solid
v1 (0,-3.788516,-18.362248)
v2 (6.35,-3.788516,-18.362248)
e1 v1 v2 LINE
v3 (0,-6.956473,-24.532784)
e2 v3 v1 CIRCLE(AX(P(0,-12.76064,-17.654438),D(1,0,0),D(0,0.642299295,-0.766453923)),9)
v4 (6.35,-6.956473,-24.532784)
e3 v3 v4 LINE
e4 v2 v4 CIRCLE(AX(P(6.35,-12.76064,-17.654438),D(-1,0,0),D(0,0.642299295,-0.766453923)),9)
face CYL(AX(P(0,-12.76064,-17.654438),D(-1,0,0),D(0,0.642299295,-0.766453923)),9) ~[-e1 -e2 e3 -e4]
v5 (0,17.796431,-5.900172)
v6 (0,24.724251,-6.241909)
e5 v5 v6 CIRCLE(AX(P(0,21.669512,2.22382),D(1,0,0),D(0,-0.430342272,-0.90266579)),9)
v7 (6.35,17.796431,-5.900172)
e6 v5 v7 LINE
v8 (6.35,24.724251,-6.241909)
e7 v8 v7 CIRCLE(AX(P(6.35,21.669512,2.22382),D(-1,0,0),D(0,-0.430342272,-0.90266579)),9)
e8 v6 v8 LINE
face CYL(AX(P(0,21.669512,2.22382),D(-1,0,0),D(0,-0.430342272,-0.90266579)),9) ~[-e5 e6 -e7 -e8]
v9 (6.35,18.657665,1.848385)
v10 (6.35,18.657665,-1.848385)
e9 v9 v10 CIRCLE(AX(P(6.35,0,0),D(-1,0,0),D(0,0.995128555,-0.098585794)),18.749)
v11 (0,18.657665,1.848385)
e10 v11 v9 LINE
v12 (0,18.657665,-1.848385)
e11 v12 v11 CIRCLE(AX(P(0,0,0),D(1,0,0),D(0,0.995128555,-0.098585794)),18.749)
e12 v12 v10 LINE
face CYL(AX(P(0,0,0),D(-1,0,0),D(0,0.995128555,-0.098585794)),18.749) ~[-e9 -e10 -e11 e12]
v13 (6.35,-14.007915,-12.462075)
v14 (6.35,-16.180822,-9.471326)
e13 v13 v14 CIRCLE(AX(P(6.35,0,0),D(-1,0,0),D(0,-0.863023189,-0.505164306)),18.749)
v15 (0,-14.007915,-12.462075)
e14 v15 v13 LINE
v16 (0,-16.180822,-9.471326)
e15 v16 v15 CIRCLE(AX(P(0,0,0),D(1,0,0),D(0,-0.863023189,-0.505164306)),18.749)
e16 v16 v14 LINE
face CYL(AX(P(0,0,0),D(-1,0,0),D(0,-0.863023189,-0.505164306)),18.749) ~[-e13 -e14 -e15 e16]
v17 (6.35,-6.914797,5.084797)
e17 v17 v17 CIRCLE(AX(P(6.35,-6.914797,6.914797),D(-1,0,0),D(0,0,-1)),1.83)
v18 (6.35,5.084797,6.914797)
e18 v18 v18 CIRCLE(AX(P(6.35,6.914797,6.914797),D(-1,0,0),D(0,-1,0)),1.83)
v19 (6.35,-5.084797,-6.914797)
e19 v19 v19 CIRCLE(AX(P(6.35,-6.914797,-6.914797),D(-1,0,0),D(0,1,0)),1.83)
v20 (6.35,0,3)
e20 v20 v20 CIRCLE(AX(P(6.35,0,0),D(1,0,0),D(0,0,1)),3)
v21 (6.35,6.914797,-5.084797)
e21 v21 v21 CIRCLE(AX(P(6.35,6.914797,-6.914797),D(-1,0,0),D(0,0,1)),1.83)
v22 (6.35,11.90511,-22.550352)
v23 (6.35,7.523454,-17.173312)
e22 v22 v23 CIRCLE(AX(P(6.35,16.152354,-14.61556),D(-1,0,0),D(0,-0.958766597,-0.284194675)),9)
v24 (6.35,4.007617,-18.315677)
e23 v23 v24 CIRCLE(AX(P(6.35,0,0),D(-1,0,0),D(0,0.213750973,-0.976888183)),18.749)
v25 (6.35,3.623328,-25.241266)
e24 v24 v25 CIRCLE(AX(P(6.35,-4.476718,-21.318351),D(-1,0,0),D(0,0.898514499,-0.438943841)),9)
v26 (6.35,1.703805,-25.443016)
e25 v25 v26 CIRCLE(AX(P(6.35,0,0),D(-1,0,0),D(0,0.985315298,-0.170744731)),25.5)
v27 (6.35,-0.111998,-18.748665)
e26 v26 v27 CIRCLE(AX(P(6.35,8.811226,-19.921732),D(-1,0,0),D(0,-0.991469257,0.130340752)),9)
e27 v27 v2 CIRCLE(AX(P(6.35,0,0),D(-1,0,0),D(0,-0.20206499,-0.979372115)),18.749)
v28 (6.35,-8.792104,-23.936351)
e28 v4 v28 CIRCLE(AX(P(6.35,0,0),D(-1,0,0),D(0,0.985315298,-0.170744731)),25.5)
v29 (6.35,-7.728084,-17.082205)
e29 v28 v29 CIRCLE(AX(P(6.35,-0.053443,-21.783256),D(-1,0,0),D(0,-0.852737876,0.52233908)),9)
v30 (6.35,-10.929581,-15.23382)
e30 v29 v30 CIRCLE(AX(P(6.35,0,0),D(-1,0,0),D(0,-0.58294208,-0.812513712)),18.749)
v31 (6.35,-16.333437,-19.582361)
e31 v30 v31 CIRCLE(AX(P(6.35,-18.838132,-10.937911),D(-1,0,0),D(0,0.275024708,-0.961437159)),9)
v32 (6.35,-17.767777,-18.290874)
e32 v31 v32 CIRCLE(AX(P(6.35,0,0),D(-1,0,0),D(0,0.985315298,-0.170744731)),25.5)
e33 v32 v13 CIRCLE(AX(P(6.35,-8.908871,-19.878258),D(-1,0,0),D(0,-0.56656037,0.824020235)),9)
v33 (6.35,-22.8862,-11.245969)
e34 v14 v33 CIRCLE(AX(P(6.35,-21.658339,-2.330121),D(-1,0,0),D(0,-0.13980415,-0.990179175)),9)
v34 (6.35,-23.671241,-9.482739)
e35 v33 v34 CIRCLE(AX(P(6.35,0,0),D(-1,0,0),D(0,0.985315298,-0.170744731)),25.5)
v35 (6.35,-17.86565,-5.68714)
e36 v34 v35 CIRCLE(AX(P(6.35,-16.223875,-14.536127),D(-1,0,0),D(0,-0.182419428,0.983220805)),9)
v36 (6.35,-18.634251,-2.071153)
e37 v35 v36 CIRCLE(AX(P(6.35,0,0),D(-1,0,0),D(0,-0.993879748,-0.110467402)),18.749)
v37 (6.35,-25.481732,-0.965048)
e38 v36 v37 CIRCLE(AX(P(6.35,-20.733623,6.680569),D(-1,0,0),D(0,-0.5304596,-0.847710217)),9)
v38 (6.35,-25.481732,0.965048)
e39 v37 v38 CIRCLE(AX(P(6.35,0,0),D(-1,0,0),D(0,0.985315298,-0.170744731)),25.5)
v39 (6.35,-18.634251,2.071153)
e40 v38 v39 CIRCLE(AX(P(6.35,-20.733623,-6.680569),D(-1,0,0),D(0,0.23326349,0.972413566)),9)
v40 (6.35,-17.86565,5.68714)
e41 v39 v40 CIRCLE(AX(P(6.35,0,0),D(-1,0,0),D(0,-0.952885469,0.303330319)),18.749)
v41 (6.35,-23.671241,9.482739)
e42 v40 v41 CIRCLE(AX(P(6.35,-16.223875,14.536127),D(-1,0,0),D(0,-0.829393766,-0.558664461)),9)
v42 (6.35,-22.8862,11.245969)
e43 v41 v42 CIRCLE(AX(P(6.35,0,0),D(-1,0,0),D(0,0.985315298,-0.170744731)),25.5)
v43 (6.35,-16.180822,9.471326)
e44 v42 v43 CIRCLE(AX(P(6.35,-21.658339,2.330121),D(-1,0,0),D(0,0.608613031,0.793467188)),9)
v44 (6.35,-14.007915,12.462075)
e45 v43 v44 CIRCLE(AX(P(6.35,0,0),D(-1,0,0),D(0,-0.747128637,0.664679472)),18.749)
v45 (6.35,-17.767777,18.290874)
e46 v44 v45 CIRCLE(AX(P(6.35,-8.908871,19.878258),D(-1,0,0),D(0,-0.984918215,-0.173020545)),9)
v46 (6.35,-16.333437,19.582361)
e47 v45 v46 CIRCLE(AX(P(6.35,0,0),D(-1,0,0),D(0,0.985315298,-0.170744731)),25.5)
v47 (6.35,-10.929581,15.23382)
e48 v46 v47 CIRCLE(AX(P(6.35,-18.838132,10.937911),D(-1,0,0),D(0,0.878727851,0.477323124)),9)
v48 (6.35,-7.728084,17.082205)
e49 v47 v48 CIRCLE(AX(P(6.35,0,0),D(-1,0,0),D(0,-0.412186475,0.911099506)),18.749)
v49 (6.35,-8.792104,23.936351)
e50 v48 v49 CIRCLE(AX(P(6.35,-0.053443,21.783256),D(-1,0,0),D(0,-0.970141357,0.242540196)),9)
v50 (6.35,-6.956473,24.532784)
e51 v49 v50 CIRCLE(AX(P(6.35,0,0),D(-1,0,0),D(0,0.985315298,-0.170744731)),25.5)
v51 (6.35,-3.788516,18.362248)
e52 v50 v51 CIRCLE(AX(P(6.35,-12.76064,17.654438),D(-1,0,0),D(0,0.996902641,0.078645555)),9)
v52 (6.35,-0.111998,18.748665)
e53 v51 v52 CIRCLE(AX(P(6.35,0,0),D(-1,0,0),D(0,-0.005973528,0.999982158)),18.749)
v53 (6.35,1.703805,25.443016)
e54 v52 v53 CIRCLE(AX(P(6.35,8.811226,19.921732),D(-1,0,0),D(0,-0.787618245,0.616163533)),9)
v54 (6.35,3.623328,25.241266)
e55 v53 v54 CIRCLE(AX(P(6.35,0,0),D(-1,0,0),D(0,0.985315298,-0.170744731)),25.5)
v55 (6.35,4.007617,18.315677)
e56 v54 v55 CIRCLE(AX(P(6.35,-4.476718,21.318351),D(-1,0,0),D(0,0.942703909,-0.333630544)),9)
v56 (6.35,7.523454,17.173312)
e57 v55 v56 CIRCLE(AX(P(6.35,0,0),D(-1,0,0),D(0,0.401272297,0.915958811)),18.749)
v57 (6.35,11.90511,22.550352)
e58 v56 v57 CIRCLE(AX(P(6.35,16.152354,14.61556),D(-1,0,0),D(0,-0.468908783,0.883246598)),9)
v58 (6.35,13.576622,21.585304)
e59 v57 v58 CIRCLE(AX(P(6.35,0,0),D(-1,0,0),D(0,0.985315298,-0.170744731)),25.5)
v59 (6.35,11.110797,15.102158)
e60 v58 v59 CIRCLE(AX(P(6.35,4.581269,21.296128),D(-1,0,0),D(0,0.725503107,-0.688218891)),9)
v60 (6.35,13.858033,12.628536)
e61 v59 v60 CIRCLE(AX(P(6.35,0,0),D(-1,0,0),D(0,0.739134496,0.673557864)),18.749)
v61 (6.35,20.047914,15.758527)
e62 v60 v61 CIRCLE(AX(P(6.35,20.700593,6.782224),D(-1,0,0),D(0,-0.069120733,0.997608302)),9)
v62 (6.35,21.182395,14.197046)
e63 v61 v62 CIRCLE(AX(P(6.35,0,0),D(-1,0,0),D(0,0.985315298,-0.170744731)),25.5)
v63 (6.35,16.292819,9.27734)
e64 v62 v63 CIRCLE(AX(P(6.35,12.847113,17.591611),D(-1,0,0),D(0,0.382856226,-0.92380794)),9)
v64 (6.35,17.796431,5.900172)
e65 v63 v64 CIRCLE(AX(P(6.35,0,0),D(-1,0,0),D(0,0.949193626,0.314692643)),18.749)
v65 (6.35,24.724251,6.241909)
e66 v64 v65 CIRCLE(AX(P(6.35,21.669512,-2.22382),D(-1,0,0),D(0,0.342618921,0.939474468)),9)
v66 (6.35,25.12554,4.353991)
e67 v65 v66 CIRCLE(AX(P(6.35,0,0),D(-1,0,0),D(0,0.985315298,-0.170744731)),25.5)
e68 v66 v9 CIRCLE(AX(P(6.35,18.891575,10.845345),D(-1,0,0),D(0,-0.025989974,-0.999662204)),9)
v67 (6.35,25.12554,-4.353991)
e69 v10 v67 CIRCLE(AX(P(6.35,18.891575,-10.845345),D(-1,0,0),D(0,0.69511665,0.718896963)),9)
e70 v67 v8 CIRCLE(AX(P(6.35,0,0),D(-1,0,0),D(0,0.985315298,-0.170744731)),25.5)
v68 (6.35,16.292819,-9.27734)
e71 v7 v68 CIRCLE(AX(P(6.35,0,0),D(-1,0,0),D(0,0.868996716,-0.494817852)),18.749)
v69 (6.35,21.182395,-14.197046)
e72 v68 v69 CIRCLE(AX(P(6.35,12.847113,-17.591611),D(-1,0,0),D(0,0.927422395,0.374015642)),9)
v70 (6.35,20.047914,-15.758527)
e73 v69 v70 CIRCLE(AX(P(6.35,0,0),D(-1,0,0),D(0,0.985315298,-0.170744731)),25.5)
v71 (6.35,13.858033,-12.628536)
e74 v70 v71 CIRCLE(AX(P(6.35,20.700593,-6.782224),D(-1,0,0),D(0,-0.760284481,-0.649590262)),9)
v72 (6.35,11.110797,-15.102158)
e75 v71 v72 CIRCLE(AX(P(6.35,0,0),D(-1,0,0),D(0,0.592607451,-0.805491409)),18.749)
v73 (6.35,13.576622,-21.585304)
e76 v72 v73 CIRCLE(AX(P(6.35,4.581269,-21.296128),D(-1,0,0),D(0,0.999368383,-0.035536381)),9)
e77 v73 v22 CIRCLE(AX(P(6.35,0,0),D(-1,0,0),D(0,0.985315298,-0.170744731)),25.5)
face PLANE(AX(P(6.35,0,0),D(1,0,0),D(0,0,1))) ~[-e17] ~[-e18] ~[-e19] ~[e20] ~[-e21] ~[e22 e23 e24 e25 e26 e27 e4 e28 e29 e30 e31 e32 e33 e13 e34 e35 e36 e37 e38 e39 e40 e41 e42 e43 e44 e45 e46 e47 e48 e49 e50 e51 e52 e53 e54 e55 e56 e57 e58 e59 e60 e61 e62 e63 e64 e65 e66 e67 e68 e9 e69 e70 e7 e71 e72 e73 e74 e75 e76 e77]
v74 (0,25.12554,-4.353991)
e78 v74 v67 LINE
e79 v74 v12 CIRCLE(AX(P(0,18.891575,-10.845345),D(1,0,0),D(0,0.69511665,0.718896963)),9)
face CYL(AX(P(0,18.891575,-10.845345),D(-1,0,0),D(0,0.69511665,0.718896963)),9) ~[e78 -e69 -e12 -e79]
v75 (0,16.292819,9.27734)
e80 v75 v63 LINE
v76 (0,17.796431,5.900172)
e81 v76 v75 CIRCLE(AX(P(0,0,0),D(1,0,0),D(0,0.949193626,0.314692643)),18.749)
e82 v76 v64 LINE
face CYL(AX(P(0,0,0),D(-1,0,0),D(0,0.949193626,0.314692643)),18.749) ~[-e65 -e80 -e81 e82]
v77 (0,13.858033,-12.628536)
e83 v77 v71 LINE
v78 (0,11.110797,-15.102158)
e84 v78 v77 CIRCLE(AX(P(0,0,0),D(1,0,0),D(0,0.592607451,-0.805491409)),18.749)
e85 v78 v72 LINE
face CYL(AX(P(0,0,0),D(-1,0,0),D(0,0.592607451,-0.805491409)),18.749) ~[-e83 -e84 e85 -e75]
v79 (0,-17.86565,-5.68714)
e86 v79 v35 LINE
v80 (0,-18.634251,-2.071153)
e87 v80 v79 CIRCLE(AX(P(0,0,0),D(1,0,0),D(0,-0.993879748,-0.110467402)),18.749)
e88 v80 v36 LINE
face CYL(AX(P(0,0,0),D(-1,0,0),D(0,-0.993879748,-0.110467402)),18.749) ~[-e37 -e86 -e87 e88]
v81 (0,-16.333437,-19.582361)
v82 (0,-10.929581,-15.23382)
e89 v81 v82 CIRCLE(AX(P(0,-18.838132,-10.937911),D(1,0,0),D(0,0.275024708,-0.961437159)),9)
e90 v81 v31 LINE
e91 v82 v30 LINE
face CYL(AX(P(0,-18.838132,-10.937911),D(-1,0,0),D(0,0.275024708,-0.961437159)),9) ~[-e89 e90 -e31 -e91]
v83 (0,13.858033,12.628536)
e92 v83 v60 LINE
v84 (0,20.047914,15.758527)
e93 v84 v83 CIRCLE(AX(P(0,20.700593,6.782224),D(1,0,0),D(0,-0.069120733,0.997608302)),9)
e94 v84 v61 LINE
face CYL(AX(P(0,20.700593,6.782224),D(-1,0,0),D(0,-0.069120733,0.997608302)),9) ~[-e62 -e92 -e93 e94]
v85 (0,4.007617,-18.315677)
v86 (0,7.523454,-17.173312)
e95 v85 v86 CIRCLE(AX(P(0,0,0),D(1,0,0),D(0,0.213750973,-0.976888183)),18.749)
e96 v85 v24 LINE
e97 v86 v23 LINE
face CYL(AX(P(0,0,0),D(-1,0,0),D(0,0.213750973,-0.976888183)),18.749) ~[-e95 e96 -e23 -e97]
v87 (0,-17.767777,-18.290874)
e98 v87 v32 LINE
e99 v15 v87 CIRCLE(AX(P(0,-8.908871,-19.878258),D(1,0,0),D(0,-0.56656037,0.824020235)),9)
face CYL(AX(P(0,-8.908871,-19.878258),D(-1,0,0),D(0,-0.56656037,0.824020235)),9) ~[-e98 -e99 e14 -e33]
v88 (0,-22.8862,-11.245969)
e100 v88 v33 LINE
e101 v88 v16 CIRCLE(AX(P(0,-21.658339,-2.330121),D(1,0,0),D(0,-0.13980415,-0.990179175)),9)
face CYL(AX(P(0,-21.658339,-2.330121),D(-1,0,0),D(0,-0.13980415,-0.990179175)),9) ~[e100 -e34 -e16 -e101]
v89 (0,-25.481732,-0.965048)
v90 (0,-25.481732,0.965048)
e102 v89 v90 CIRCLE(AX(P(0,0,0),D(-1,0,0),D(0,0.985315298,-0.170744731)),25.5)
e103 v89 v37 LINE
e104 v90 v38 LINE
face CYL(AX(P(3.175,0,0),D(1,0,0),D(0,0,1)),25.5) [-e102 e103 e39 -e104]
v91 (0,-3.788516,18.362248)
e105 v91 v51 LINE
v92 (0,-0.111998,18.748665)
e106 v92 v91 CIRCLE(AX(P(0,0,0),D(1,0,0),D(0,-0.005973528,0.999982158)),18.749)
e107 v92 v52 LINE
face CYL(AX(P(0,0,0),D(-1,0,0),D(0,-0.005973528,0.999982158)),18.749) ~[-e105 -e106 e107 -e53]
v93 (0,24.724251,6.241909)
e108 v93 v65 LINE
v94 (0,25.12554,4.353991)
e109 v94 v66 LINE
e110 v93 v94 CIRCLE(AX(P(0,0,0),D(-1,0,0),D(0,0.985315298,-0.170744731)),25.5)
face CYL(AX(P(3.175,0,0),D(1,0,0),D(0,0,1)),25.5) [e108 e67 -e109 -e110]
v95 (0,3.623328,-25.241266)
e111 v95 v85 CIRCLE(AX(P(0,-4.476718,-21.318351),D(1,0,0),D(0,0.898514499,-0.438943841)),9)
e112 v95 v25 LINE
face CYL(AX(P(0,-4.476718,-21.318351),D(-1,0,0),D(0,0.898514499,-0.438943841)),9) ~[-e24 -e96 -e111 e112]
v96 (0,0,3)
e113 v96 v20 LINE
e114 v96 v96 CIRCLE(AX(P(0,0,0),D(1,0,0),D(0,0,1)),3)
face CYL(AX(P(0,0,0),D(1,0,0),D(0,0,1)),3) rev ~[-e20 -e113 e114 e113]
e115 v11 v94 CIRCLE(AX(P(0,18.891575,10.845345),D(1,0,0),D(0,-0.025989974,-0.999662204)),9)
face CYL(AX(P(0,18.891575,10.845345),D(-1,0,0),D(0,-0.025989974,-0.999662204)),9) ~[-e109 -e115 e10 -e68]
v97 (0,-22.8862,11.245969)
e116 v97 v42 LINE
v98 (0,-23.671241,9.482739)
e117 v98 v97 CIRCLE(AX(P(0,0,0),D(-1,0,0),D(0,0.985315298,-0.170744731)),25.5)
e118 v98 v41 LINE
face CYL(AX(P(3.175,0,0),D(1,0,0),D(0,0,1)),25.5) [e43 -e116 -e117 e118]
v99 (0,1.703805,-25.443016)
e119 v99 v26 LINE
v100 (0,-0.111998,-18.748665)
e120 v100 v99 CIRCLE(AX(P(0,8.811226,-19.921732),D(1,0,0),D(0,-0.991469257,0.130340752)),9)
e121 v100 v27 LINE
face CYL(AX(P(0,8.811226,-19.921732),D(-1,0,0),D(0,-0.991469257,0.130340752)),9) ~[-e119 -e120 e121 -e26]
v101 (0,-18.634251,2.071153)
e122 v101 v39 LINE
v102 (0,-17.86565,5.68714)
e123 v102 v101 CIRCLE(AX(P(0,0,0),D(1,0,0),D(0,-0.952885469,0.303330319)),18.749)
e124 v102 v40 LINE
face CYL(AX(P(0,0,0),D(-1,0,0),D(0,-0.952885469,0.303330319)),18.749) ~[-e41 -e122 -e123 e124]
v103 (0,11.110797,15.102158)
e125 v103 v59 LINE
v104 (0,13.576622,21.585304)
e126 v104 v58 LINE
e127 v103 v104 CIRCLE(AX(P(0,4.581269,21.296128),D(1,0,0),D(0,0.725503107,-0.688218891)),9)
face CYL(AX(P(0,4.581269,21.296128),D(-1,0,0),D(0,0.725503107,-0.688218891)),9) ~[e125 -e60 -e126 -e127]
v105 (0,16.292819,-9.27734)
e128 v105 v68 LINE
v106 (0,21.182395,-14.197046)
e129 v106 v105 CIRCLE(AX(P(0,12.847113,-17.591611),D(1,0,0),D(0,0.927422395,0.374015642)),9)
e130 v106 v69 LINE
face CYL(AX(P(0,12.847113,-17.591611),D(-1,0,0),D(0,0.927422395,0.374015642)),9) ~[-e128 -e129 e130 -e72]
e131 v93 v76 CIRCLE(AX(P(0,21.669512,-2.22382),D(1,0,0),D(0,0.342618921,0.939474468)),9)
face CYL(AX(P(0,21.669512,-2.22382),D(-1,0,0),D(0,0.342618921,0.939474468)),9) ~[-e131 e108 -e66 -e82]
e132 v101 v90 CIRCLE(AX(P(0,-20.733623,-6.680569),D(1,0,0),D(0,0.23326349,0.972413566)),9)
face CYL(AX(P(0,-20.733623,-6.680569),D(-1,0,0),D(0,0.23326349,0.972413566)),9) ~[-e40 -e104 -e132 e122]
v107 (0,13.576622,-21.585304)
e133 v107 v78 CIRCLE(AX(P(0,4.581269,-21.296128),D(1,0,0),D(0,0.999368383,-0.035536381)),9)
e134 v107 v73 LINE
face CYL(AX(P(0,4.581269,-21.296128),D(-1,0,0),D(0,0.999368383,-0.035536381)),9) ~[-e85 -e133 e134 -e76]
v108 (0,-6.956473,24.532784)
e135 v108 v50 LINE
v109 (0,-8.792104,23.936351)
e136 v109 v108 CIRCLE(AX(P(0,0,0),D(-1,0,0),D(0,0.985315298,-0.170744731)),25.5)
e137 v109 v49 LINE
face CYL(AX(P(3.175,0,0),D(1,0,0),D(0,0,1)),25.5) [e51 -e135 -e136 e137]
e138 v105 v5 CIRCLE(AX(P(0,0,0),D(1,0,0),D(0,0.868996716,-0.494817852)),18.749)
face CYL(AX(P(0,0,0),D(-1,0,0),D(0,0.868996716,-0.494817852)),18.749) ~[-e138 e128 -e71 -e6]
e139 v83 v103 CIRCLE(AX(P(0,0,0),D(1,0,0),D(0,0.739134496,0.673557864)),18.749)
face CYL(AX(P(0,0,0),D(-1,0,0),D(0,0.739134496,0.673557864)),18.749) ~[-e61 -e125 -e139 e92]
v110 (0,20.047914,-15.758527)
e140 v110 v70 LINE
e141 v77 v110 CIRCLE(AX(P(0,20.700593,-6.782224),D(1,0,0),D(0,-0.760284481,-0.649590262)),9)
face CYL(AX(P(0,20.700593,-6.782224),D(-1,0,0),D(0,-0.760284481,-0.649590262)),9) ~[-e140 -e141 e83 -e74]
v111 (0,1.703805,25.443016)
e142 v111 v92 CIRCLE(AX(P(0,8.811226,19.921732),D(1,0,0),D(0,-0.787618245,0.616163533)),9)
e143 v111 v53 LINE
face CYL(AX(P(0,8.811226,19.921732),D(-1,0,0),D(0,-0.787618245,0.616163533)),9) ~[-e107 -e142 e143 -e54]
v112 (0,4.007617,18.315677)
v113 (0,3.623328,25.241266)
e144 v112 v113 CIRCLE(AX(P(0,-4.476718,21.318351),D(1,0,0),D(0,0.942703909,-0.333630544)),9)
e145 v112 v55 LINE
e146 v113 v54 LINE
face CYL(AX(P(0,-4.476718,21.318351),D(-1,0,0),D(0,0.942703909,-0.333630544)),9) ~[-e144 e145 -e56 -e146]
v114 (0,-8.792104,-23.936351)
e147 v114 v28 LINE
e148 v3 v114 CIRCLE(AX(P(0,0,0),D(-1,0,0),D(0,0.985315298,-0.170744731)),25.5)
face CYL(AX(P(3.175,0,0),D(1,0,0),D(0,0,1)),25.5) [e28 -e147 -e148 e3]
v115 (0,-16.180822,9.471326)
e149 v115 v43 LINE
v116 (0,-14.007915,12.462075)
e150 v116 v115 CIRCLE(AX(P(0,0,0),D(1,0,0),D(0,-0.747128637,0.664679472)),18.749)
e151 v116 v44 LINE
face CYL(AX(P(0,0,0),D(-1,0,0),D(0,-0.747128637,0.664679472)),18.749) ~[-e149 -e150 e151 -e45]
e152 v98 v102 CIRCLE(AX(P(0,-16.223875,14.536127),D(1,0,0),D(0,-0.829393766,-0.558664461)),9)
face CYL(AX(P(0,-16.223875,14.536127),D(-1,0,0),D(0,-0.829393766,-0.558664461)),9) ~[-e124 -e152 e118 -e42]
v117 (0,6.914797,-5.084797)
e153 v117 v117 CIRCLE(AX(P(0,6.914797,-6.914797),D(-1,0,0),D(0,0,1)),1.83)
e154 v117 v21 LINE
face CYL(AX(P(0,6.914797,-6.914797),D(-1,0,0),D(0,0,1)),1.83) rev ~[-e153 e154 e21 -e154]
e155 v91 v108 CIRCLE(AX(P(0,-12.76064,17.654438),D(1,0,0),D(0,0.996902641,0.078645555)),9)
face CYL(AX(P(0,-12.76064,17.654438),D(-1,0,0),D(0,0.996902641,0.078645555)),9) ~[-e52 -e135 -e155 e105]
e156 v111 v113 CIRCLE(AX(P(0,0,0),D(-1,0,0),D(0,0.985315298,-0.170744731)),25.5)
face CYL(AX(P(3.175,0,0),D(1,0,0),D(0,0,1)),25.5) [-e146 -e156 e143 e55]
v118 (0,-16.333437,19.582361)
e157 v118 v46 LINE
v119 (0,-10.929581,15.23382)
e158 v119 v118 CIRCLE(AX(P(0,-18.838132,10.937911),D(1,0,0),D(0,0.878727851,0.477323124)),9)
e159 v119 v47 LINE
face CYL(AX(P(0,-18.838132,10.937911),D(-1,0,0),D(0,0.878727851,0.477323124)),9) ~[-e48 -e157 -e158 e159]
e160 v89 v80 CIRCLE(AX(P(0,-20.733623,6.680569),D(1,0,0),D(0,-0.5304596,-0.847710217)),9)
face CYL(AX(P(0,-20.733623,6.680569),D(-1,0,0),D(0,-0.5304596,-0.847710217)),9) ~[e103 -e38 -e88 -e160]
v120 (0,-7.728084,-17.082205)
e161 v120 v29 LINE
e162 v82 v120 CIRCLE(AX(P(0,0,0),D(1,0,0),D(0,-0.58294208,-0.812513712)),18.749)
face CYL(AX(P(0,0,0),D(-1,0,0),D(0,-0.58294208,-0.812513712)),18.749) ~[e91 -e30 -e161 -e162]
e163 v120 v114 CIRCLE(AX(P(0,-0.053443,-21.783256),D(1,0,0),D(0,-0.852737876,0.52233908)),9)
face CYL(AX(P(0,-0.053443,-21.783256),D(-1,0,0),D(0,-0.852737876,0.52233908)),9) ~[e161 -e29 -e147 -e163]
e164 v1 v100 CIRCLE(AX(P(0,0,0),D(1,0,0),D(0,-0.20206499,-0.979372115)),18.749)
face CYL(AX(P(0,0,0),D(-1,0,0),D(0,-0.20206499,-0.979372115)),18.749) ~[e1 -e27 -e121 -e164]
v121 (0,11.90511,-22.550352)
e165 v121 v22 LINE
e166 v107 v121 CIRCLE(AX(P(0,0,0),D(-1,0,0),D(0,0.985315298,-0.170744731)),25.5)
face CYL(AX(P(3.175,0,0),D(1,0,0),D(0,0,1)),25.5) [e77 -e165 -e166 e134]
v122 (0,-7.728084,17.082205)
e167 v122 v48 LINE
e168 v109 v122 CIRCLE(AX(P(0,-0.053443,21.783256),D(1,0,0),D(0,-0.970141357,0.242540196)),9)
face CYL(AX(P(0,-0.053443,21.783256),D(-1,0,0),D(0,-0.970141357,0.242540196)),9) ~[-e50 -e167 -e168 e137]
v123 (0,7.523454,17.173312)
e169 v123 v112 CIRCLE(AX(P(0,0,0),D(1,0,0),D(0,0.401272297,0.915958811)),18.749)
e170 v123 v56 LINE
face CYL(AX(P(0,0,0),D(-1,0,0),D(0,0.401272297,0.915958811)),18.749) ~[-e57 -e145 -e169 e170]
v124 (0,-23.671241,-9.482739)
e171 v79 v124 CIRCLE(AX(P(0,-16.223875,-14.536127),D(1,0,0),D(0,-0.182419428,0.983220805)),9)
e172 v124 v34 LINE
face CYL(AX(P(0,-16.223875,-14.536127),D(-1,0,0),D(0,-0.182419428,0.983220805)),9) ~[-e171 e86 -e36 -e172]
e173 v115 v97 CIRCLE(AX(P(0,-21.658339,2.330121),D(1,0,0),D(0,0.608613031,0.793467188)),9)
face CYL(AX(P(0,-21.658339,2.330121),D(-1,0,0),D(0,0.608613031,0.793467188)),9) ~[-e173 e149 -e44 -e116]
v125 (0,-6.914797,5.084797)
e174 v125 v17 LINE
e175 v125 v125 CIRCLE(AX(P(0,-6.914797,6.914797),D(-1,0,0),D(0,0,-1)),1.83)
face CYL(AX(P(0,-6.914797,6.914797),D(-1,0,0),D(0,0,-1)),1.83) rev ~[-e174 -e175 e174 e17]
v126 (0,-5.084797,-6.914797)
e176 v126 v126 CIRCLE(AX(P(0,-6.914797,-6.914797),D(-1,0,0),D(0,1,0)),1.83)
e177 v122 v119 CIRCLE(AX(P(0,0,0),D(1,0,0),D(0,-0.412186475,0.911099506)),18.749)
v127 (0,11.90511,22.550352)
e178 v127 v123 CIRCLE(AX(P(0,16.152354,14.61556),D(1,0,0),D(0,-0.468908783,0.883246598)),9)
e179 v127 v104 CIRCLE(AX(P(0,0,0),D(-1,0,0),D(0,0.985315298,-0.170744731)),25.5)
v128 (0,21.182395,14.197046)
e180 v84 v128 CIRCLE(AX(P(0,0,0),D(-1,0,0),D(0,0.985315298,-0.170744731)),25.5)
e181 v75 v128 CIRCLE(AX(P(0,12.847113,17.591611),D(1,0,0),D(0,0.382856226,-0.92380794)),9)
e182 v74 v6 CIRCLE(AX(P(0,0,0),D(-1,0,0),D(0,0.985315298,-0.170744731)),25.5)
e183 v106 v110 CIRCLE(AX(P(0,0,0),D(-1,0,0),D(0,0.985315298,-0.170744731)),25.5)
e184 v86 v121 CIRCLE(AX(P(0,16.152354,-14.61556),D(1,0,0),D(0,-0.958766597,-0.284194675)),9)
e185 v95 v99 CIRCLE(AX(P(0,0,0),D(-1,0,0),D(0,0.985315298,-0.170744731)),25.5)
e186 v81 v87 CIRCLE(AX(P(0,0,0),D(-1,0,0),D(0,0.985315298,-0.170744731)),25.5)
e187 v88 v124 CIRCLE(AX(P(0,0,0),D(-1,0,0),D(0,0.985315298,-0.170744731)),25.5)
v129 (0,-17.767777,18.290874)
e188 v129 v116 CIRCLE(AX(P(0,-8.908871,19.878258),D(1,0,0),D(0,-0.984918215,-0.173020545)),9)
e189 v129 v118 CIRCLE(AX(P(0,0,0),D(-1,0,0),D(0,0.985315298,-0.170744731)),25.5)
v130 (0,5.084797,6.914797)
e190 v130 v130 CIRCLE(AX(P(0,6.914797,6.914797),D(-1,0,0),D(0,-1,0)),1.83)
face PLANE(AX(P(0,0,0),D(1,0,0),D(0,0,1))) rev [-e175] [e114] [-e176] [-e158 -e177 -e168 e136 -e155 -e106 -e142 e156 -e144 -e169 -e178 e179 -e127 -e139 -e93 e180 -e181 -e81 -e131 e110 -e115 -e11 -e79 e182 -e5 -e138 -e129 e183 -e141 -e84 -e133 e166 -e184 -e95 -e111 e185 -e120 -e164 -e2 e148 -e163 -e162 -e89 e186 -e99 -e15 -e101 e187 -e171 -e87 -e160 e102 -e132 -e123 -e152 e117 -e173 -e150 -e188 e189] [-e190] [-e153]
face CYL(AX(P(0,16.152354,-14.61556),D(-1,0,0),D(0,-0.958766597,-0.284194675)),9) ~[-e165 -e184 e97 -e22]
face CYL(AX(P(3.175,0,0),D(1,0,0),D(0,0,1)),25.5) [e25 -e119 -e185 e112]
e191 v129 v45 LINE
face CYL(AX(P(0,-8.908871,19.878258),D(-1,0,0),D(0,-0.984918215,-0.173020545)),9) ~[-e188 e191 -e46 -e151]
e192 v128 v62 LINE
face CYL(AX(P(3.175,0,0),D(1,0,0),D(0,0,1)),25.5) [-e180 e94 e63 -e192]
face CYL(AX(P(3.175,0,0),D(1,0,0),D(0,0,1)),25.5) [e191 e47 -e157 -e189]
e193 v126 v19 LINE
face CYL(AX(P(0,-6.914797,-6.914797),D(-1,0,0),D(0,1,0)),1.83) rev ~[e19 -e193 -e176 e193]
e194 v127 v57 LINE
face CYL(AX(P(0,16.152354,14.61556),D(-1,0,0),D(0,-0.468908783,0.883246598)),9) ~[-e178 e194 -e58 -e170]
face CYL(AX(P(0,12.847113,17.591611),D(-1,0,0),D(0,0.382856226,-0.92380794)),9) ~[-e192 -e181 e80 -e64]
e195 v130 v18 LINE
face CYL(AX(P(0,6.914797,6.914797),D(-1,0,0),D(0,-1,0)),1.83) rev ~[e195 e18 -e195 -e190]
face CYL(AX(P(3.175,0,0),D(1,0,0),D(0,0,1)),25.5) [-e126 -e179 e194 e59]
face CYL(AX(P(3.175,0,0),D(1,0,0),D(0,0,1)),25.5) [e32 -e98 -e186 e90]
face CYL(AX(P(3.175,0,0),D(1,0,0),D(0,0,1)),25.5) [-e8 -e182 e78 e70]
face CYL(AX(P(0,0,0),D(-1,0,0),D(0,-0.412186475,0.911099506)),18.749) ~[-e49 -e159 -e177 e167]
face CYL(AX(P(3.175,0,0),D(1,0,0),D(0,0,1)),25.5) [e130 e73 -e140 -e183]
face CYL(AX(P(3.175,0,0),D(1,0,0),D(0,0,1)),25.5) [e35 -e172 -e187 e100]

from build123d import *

# Parameters (mm, degrees)
BASPROSKE_W                  = 6.35
BASPROSKE_H                  = 25.5
TOOTHCUT_DEPTH               = 37.617243206
TEETHCUTS_COUNT              = 15
TEETHCUTS_ANGLE              = 336
BORSKE_R                     = 3
BORE_DEPTH                   = 50.0000508
ENL_V_MAT_EXTRU_1_REACH      = 38.578
ESQUISSE1_R                  = 1.83
R_P_TITION_CIRCULAIRE1_COUNT = 4


with BuildPart() as part:
    # BasProSke → Base-Revolve (revolve)
    with BuildSketch(Plane(origin=(0, 0, 0), x_dir=(1, 0, 0), z_dir=(0, 1, 0)), mode=Mode.PRIVATE) as base_revolve_sk:
        with Locations((3.175, 12.75)):
            Rectangle(BASPROSKE_W, BASPROSKE_H)
    revolve(base_revolve_sk.sketch.rotate(Axis((-10, 0, 0), (1, 0, 0)), 180), axis=Axis((-10, 0, 0), (1, 0, 0)))

    # TooCutSke → ToothCut (cut, through all)
    with BuildSketch(Plane(origin=(0, 0, 0), x_dir=(0, 0, -1), z_dir=(1, 0, 0))):
        with BuildLine():
            ThreePointArc((1.848385047, 18.65766528), (0, 18.749), (-1.848385047, 18.65766528))
            ThreePointArc((-1.848385047, 18.65766528), (-2.458619206, 22.156974334), (-4.375272216, 25.147624902))
            ThreePointArc((-4.375272216, 25.147624902), (0, 25.5254), (4.375272216, 25.147624902))
            ThreePointArc((4.375272216, 25.147624902), (2.458619206, 22.156974334), (1.848385047, 18.65766528))
        make_face()
    toothcut = extrude(amount=TOOTHCUT_DEPTH, mode=Mode.SUBTRACT)

    # TeethCuts: ToothCut ×15 about axis
    teethcuts_axis = Axis((-10, 0, 0), (1, 0, 0))
    for i in range(1, TEETHCUTS_COUNT):
        add(toothcut.rotate(teethcuts_axis, i * TEETHCUTS_ANGLE / (TEETHCUTS_COUNT - 1)), mode=Mode.SUBTRACT)

    # BorSke → Bore (cut, symmetric)
    with BuildSketch(Plane(origin=(0, 0, 0), x_dir=(0, 0, -1), z_dir=(1, 0, 0))):
        with Locations(Location((0, 0, 0), (0, 0, 180))):
            Circle(BORSKE_R)
    extrude(amount=BORE_DEPTH, both=True, mode=Mode.SUBTRACT)

    # Esquisse1 → Enlèv. mat.-Extru.1 (cut, up to next)
    with BuildSketch(Plane.ZY, mode=Mode.PRIVATE) as enl_v_mat_extru_1_sk1:
        with Locations((-6.914797213, 6.914797213)):
            Circle(ESQUISSE1_R)
    enl_v_mat_extru_1_tool1 = extrude(enl_v_mat_extru_1_sk1.sketch, amount=-ENL_V_MAT_EXTRU_1_REACH, mode=Mode.PRIVATE) & part.part
    enl_v_mat_extru_1 = enl_v_mat_extru_1_tool1.solids().sort_by_distance((0, 6.914797, -6.914797))[0]
    add(enl_v_mat_extru_1, mode=Mode.SUBTRACT)

    # Répétition circulaire1: Enlèv. mat.-Extru.1 ×4 about axis
    r_p_tition_circulaire1_axis = Axis((0, 0, 0), (1, 0, 0))
    for i in range(1, R_P_TITION_CIRCULAIRE1_COUNT):
        add(enl_v_mat_extru_1.rotate(r_p_tition_circulaire1_axis, i * 360 / R_P_TITION_CIRCULAIRE1_COUNT), mode=Mode.SUBTRACT)


solid = part.part
